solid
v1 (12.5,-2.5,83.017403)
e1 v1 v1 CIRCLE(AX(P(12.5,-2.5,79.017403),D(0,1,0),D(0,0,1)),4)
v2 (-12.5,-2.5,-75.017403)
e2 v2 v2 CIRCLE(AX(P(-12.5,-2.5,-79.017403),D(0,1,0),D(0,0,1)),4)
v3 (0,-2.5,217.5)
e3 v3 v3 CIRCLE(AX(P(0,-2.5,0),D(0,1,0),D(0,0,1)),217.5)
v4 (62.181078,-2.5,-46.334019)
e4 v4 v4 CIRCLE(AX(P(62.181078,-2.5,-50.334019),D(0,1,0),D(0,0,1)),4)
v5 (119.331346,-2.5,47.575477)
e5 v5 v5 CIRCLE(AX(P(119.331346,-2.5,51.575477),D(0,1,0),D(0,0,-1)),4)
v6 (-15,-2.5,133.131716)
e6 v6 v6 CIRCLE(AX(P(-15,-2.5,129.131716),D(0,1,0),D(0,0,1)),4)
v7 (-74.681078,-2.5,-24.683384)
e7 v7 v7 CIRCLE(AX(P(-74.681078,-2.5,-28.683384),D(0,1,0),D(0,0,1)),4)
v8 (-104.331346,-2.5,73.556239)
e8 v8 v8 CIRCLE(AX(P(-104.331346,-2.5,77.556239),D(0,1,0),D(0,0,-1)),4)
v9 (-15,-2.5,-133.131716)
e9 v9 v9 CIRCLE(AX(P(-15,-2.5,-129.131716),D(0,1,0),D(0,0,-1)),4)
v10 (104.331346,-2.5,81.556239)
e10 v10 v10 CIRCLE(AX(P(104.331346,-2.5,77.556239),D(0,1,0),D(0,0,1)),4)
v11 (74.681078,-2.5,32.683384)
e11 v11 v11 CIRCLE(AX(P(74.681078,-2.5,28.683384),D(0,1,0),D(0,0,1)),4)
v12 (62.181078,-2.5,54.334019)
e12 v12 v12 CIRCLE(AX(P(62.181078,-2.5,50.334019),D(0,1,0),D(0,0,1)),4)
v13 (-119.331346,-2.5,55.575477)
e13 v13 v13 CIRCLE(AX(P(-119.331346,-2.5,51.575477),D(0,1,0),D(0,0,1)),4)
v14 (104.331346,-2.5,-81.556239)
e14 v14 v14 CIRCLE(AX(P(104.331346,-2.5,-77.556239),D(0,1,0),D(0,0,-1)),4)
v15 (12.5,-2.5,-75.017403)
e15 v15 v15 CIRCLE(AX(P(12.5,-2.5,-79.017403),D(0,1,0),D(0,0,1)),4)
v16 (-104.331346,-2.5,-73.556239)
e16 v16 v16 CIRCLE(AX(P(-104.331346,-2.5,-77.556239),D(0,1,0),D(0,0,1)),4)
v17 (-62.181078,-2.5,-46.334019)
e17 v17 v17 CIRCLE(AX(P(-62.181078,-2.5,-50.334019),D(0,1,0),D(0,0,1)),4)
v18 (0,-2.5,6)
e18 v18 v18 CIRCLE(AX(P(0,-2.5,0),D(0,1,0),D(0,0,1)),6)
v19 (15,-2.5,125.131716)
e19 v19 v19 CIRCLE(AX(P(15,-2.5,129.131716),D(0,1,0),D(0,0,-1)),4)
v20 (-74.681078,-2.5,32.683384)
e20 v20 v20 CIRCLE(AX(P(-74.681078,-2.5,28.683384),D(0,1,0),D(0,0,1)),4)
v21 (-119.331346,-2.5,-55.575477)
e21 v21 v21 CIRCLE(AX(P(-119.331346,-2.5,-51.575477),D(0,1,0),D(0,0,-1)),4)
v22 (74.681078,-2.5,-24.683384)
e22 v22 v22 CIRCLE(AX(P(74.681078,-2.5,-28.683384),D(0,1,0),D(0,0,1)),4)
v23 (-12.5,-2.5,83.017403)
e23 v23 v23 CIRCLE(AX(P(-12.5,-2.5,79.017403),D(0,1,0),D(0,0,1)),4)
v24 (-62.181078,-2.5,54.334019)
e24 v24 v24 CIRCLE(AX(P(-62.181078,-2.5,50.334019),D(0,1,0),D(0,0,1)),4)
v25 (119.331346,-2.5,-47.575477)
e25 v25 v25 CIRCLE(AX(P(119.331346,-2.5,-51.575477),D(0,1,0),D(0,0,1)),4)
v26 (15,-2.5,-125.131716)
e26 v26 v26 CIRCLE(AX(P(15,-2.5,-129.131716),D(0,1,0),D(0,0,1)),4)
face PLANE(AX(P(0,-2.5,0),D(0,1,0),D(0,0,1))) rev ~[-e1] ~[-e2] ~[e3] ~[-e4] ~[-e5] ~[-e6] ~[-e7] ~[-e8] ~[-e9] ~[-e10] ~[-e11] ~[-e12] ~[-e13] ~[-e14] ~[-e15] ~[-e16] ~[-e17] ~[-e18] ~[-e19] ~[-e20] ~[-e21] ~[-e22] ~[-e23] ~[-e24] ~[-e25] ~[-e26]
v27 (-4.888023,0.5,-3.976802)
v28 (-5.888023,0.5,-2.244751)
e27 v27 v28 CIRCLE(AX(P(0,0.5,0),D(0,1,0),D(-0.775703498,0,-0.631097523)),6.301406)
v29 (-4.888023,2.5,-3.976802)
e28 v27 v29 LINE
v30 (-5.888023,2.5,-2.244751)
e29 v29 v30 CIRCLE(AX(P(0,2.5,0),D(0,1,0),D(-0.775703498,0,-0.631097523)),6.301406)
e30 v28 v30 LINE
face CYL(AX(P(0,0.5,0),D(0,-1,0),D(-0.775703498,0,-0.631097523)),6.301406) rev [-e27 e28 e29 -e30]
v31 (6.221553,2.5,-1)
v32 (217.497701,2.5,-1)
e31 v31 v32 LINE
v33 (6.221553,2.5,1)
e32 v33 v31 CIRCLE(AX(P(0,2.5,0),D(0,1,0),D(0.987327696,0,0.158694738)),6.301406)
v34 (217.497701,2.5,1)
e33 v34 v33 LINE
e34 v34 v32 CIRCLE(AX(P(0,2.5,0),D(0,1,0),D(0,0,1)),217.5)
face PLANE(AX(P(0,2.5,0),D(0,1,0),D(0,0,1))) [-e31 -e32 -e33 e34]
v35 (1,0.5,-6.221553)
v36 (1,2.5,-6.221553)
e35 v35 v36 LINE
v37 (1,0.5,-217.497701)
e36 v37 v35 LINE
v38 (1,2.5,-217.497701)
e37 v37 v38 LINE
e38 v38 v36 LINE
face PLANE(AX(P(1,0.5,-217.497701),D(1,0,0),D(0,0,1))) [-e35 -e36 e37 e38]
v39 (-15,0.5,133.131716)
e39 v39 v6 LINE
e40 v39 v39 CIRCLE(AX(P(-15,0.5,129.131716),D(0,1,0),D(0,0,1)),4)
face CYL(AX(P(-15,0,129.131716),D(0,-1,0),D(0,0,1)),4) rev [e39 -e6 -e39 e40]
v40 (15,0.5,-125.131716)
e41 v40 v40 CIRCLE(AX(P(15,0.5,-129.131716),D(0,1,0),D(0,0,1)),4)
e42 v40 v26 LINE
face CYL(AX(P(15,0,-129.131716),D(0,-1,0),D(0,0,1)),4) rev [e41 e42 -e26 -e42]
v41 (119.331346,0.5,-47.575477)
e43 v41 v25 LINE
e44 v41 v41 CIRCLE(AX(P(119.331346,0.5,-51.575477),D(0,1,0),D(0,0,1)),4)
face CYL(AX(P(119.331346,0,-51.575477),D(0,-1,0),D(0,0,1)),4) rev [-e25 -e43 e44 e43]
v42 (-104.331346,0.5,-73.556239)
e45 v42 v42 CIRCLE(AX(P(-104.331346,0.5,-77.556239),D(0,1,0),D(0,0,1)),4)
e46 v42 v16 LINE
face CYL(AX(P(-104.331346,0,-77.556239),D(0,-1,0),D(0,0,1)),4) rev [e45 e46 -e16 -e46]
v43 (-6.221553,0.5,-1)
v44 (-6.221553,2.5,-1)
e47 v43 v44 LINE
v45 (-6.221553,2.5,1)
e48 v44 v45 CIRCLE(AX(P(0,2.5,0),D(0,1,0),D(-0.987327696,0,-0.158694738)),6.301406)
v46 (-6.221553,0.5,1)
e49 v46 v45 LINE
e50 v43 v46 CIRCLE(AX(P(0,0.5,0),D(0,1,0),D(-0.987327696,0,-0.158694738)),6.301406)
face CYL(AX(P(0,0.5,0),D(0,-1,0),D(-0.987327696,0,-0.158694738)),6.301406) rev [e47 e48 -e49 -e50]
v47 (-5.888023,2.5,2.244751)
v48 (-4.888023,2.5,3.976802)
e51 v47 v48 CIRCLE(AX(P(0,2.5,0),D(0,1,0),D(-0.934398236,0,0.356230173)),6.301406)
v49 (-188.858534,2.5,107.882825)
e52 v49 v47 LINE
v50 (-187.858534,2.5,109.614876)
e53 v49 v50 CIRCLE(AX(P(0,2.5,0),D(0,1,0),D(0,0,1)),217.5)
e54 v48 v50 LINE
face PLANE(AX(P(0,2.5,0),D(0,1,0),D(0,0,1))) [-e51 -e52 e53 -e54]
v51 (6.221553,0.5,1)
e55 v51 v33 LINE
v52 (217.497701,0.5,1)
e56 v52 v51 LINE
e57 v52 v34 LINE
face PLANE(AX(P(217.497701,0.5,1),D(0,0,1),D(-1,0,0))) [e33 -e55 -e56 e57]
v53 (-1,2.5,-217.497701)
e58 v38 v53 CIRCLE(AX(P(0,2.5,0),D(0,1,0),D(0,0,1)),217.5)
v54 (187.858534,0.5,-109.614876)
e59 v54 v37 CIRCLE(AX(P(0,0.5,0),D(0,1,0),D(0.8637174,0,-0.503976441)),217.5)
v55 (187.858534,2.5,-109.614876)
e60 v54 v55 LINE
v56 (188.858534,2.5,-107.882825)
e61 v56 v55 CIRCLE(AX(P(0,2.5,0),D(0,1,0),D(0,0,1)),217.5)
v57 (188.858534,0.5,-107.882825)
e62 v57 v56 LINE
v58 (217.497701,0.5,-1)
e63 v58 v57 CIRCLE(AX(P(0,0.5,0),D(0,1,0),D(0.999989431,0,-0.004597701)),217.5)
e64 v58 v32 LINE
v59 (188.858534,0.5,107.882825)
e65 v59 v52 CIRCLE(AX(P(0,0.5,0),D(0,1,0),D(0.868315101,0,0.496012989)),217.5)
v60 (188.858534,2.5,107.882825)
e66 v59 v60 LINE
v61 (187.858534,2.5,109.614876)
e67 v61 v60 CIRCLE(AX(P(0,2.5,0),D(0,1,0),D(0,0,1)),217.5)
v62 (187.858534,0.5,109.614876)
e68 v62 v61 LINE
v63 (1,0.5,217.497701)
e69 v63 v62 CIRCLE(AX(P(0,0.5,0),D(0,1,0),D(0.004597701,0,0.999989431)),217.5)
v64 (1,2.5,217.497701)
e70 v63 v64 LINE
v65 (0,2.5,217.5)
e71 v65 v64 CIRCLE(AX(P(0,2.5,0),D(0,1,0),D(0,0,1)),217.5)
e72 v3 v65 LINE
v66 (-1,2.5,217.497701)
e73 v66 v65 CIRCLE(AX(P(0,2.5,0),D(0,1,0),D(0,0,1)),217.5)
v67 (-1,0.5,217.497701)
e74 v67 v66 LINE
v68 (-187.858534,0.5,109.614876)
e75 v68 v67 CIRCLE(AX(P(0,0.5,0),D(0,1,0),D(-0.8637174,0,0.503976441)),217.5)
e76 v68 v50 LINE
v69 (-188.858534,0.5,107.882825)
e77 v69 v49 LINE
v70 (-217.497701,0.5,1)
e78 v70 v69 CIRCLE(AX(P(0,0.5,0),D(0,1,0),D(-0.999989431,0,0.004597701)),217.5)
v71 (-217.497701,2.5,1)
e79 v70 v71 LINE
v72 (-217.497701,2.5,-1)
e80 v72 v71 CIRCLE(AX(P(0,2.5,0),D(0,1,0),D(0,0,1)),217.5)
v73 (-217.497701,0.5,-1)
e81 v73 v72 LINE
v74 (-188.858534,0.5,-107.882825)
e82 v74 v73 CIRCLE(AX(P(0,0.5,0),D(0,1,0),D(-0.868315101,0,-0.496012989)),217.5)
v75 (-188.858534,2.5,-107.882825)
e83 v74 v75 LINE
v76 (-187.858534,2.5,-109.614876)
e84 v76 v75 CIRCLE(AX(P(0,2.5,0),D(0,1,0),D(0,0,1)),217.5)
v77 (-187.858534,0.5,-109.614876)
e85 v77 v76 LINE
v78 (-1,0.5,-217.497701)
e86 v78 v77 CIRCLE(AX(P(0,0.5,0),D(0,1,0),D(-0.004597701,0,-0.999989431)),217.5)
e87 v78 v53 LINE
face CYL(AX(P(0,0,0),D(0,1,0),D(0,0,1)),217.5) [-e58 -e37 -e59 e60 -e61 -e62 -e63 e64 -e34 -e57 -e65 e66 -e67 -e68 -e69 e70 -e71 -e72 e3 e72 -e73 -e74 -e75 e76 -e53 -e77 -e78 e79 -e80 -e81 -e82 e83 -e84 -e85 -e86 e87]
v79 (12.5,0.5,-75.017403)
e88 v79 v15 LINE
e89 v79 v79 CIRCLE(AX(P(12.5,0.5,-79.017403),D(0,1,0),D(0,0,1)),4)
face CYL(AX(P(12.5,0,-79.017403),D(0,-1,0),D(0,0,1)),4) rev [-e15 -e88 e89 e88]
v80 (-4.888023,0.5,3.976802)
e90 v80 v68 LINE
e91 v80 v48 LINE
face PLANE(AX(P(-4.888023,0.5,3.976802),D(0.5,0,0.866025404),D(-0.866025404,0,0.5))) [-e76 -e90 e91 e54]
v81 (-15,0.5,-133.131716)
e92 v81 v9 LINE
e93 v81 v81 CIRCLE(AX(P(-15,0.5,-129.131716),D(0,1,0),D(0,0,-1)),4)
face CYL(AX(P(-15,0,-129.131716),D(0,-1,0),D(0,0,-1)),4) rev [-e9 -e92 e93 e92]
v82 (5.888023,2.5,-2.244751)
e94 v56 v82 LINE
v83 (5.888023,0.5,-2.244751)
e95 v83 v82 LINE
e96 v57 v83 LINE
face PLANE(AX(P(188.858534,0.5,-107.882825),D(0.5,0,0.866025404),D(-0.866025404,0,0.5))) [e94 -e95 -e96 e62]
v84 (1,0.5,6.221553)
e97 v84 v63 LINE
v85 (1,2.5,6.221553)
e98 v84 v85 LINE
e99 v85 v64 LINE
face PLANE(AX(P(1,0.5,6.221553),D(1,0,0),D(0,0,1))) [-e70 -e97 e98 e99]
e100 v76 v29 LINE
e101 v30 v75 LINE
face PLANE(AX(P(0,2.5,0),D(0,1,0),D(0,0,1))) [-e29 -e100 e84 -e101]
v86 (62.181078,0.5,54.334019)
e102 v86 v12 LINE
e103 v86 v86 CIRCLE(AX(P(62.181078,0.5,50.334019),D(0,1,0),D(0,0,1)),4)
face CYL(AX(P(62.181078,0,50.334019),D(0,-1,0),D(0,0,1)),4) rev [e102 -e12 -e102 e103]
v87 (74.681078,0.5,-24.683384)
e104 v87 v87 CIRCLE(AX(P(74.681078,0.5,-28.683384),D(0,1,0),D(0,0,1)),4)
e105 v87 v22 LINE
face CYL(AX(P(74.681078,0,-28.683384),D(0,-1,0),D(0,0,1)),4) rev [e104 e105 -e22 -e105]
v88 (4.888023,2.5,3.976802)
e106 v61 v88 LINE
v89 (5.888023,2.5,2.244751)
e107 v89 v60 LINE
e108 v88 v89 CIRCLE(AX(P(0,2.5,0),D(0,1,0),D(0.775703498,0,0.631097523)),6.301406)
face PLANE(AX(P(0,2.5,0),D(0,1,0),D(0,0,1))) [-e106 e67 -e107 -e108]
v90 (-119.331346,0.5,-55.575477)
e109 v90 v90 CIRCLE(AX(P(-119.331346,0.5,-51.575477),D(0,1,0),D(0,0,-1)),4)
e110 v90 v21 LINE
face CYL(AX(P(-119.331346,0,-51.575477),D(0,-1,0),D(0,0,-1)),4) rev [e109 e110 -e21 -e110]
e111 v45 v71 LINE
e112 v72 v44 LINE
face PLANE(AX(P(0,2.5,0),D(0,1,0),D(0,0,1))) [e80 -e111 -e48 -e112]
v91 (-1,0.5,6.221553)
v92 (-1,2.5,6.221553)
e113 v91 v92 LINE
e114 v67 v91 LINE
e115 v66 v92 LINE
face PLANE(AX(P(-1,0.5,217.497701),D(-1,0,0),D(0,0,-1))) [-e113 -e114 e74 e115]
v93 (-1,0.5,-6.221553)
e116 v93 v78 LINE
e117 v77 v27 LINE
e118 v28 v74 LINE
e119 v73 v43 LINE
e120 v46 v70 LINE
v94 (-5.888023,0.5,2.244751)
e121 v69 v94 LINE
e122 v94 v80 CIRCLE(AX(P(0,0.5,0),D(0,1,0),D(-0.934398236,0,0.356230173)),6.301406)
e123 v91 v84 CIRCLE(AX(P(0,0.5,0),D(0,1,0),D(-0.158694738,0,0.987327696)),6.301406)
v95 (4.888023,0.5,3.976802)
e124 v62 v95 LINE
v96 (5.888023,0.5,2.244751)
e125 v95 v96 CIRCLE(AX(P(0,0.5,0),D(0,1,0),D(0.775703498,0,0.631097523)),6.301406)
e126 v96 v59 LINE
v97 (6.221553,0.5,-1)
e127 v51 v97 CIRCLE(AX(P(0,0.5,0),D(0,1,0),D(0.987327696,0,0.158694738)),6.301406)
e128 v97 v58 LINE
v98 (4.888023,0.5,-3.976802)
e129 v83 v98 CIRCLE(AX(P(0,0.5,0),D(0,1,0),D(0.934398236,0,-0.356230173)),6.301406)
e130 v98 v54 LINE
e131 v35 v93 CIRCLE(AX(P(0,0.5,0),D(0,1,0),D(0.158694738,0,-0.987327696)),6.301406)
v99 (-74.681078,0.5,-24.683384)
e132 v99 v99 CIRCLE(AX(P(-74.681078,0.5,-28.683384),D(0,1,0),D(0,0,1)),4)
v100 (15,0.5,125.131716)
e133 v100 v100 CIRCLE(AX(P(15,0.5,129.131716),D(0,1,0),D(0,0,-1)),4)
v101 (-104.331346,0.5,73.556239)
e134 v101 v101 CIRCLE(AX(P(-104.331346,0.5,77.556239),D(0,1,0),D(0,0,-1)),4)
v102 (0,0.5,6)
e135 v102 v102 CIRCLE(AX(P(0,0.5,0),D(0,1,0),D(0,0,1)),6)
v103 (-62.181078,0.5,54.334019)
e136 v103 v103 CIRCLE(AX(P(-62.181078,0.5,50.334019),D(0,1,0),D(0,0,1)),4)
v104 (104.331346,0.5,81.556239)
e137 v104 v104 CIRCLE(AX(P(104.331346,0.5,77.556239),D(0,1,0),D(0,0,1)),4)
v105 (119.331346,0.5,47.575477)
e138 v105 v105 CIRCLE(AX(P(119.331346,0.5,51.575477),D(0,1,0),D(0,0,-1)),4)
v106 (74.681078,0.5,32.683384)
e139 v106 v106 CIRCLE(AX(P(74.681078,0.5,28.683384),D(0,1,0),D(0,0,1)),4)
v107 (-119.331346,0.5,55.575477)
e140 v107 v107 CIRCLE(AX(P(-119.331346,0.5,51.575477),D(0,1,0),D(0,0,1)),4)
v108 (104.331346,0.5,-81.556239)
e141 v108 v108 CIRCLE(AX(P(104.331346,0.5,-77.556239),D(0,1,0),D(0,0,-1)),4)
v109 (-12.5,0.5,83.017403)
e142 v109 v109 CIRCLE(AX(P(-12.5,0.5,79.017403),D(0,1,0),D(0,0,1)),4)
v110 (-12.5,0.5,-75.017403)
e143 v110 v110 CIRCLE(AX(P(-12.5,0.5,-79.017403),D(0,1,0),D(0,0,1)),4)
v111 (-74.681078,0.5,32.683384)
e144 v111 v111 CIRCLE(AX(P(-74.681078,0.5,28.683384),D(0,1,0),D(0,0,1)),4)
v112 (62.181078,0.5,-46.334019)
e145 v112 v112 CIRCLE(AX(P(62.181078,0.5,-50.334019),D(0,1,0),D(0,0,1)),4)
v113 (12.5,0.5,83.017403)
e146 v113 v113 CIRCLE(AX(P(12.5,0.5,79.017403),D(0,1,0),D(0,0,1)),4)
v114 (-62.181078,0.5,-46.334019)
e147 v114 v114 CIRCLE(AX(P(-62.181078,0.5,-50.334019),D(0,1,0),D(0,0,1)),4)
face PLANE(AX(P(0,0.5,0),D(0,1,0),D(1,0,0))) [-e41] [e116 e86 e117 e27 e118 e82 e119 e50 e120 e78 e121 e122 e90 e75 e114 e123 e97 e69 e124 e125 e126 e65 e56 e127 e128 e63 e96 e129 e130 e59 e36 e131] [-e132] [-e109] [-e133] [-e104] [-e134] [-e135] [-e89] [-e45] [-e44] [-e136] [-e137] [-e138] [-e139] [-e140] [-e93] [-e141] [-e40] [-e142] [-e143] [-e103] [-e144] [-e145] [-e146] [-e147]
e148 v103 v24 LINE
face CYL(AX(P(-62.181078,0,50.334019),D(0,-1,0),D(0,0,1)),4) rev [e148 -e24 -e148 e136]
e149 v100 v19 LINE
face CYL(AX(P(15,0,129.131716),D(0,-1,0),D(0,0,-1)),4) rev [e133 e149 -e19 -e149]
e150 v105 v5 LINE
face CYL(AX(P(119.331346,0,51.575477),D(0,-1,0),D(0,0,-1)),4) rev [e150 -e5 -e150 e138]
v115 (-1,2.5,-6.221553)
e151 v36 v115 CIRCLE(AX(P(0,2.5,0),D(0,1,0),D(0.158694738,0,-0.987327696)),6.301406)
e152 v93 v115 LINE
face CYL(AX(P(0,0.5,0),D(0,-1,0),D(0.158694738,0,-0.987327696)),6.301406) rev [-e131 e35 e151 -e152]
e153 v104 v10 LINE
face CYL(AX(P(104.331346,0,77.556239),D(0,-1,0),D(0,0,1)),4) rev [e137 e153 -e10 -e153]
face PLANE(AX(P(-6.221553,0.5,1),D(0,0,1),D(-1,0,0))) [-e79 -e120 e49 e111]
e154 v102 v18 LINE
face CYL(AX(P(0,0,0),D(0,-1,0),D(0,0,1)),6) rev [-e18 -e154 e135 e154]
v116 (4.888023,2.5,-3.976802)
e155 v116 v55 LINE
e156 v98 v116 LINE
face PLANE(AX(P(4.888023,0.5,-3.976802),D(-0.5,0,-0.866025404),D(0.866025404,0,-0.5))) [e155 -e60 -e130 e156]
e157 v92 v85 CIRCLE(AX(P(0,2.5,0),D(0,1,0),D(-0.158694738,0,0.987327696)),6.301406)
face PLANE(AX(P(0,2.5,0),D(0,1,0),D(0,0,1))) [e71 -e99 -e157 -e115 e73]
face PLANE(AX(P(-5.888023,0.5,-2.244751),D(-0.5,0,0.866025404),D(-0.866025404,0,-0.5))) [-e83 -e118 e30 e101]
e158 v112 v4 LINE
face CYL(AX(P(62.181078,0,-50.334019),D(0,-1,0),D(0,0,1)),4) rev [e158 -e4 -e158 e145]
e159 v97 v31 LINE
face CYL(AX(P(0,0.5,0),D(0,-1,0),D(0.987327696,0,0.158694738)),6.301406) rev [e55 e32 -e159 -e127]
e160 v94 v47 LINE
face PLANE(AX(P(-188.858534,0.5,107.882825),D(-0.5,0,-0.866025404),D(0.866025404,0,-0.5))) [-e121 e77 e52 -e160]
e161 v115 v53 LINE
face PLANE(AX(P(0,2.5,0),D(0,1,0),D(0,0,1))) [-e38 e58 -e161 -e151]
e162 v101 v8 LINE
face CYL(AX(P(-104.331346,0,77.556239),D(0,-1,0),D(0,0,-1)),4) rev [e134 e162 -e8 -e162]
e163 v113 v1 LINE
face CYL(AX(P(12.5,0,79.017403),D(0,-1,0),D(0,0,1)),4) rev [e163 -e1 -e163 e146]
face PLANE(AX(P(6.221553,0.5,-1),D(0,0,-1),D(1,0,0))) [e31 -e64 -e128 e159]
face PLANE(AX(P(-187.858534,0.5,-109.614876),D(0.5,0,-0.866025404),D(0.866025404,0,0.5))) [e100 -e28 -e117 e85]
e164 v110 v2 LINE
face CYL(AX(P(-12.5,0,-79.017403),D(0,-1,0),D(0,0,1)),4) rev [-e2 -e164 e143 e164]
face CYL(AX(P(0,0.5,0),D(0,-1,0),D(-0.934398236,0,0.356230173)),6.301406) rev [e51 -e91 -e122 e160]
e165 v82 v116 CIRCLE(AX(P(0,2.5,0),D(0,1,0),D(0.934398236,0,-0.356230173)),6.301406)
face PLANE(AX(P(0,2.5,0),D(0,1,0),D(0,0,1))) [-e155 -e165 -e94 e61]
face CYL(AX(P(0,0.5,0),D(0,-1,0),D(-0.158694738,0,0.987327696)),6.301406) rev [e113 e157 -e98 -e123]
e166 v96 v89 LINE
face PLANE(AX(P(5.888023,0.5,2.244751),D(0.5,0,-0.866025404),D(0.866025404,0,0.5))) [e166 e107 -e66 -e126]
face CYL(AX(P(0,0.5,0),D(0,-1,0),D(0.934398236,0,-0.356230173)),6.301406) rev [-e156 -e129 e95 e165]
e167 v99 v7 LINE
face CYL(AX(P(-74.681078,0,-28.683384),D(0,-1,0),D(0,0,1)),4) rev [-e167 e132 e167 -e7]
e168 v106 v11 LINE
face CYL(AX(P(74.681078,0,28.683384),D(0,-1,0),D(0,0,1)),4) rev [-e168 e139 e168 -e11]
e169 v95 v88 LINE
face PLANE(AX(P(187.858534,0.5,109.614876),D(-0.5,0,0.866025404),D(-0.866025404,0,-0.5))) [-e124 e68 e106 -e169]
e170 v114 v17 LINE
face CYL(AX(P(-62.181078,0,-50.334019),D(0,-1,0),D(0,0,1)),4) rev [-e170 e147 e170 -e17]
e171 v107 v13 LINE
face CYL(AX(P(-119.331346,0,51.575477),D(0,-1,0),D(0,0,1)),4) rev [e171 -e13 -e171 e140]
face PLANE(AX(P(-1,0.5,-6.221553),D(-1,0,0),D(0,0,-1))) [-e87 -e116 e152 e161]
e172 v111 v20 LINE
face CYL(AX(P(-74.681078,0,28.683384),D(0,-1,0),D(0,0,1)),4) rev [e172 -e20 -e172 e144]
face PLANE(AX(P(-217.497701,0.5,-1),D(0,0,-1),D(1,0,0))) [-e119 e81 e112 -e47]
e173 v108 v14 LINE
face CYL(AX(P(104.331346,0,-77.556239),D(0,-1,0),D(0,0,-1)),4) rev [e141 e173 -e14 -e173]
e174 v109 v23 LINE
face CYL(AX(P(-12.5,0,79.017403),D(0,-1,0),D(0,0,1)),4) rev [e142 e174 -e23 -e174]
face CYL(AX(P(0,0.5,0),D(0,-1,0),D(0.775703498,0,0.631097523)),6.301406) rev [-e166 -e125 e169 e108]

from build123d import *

# Parameters (mm, degrees)
SKETCH1_R           = 217.5
SKETCH1_R_2         = 4
SKETCH1_R_3         = 6
BOSS_EXTRUDE1_DEPTH = 2.5
CUT_EXTRUDE1_START  = -2
SKETCH2_R           = 4
SKETCH2_R_2         = 6
CUT_EXTRUDE1_DEPTH  = 2


with BuildPart() as part:
    # Sketch1 → Boss-Extrude1 (new, symmetric)
    with BuildSketch(Plane(origin=(0, 0, 0), x_dir=(1, 0, 0), z_dir=(0, 1, 0))):
        with Locations(Location((0, 0, 0), (0, 0, 270))):
            Circle(SKETCH1_R)
        with Locations(Location((-12.5, 79.017403146, 0), (0, 0, 270))):
            Circle(SKETCH1_R_2, mode=Mode.SUBTRACT)
        with Locations(Location((12.5, 79.017403146, 0), (0, 0, 270))):
            Circle(SKETCH1_R_2, mode=Mode.SUBTRACT)
        with Locations(Location((62.181078466, 50.334019121, 0), (0, 0, 270))):
            Circle(SKETCH1_R_2, mode=Mode.SUBTRACT)
        with Locations(Location((74.681078466, 28.683384026, 0), (0, 0, 270))):
            Circle(SKETCH1_R_2, mode=Mode.SUBTRACT)
        with Locations(Location((74.681078466, -28.683384026, 0), (0, 0, 270))):
            Circle(SKETCH1_R_2, mode=Mode.SUBTRACT)
        with Locations(Location((62.181078466, -50.334019121, 0), (0, 0, 270))):
            Circle(SKETCH1_R_2, mode=Mode.SUBTRACT)
        with Locations(Location((12.5, -79.017403146, 0), (0, 0, 270))):
            Circle(SKETCH1_R_2, mode=Mode.SUBTRACT)
        with Locations(Location((-12.5, -79.017403146, 0), (0, 0, 270))):
            Circle(SKETCH1_R_2, mode=Mode.SUBTRACT)
        with Locations(Location((-62.181078466, -50.334019121, 0), (0, 0, 270))):
            Circle(SKETCH1_R_2, mode=Mode.SUBTRACT)
        with Locations(Location((-74.681078466, -28.683384026, 0), (0, 0, 270))):
            Circle(SKETCH1_R_2, mode=Mode.SUBTRACT)
        with Locations(Location((-74.681078466, 28.683384026, 0), (0, 0, 270))):
            Circle(SKETCH1_R_2, mode=Mode.SUBTRACT)
        with Locations(Location((-62.181078466, 50.334019121, 0), (0, 0, 270))):
            Circle(SKETCH1_R_2, mode=Mode.SUBTRACT)
        with Locations(Location((15, 129.131715701, 0), (0, 0, 270))):
            Circle(SKETCH1_R_2, mode=Mode.SUBTRACT)
        with Locations(Location((-15, 129.131715701, 0), (0, 0, 90))):
            Circle(SKETCH1_R_2, mode=Mode.SUBTRACT)
        with Locations(Location((104.331346232, 77.556238907, 0), (0, 0, 90))):
            Circle(SKETCH1_R_2, mode=Mode.SUBTRACT)
        with Locations(Location((119.331346232, 51.575476794, 0), (0, 0, 270))):
            Circle(SKETCH1_R_2, mode=Mode.SUBTRACT)
        with Locations(Location((119.331346232, -51.575476794, 0), (0, 0, 90))):
            Circle(SKETCH1_R_2, mode=Mode.SUBTRACT)
        with Locations(Location((104.331346232, -77.556238907, 0), (0, 0, 270))):
            Circle(SKETCH1_R_2, mode=Mode.SUBTRACT)
        with Locations(Location((15, -129.131715701, 0), (0, 0, 90))):
            Circle(SKETCH1_R_2, mode=Mode.SUBTRACT)
        with Locations(Location((-15, -129.131715701, 0), (0, 0, 270))):
            Circle(SKETCH1_R_2, mode=Mode.SUBTRACT)
        with Locations(Location((-104.331346232, -77.556238907, 0), (0, 0, 90))):
            Circle(SKETCH1_R_2, mode=Mode.SUBTRACT)
        with Locations(Location((-119.331346232, -51.575476794, 0), (0, 0, 270))):
            Circle(SKETCH1_R_2, mode=Mode.SUBTRACT)
        with Locations(Location((-119.331346232, 51.575476794, 0), (0, 0, 90))):
            Circle(SKETCH1_R_2, mode=Mode.SUBTRACT)
        with Locations(Location((-104.331346232, 77.556238907, 0), (0, 0, 270))):
            Circle(SKETCH1_R_2, mode=Mode.SUBTRACT)
        with Locations(Location((0, 0, 0), (0, 0, 270))):
            Circle(SKETCH1_R_3, mode=Mode.SUBTRACT)
    extrude(amount=BOSS_EXTRUDE1_DEPTH, both=True)

    # Sketch2 → Cut-Extrude1 (cut)
    with BuildSketch(Plane(origin=(0, 2.5, 0), x_dir=(1, 0, 0), z_dir=(0, 1, 0)).offset(CUT_EXTRUDE1_START)):
        with BuildLine():
            ThreePointArc((-217.497701137, -1), (-210.088867218, -56.29314231), (-188.85853445, -107.882825165))
            Line((-188.85853445, -107.882825165), (-5.888022785, -2.244751001))
            ThreePointArc((-5.888022785, -2.244751001), (-5.457177799, -3.150703071), (-4.888022785, -3.976801809))
            Line((-4.888022785, -3.976801809), (-187.85853445, -109.614875972))
            ThreePointArc((-187.85853445, -109.614875972), (-108.75, -188.360525323), (-1, -217.497701137))
            Line((-1, -217.497701137), (-1, -6.22155281))
            ThreePointArc((-1, -6.22155281), (0, -6.301406142), (1, -6.22155281))
            Line((1, -6.22155281), (1, -217.497701137))
            ThreePointArc((1, -217.497701137), (108.75, -188.360525323), (187.85853445, -109.614875972))
            Line((187.85853445, -109.614875972), (4.888022785, -3.976801809))
            ThreePointArc((4.888022785, -3.976801809), (5.457177799, -3.150703071), (5.888022785, -2.244751001))
            Line((5.888022785, -2.244751001), (188.85853445, -107.882825165))
            ThreePointArc((188.85853445, -107.882825165), (210.088867218, -56.29314231), (217.497701137, -1))
            Line((217.497701137, -1), (6.22155281, -1))
            ThreePointArc((6.22155281, -1), (6.301406142, 0), (6.22155281, 1))
            Line((6.22155281, 1), (217.497701137, 1))
            ThreePointArc((217.497701137, 1), (210.088867218, 56.29314231), (188.85853445, 107.882825165))
            Line((188.85853445, 107.882825165), (5.888022785, 2.244751001))
            ThreePointArc((5.888022785, 2.244751001), (5.457177799, 3.150703071), (4.888022785, 3.976801809))
            Line((4.888022785, 3.976801809), (187.85853445, 109.614875972))
            ThreePointArc((187.85853445, 109.614875972), (108.75, 188.360525323), (1, 217.497701137))
            Line((1, 217.497701137), (1, 6.22155281))
            ThreePointArc((1, 6.22155281), (0, 6.301406142), (-1, 6.22155281))
            Line((-1, 6.22155281), (-1, 217.497701137))
            ThreePointArc((-1, 217.497701137), (-108.75, 188.360525323), (-187.85853445, 109.614875972))
            Line((-187.85853445, 109.614875972), (-4.888022785, 3.976801809))
            ThreePointArc((-4.888022785, 3.976801809), (-5.457177799, 3.150703071), (-5.888022785, 2.244751001))
            Line((-5.888022785, 2.244751001), (-188.85853445, 107.882825165))
            ThreePointArc((-188.85853445, 107.882825165), (-210.088867218, 56.29314231), (-217.497701137, 1))
            Line((-217.497701137, 1), (-6.22155281, 1))
            ThreePointArc((-6.22155281, 1), (-6.301406142, 0), (-6.22155281, -1))
            Line((-6.22155281, -1), (-217.497701137, -1))
        make_face()
        with Locations(Location((-15, -129.131715701, 0), (0, 0, 270))):
            Circle(SKETCH2_R, mode=Mode.SUBTRACT)
        with Locations(Location((-119.331346232, -51.575476794, 0), (0, 0, 270))):
            Circle(SKETCH2_R, mode=Mode.SUBTRACT)
        with Locations(Location((-104.331346232, -77.556238907, 0), (0, 0, 90))):
            Circle(SKETCH2_R, mode=Mode.SUBTRACT)
        with Locations(Location((-12.5, -79.017403146, 0), (0, 0, 270))):
            Circle(SKETCH2_R, mode=Mode.SUBTRACT)
        with Locations(Location((-62.181078466, -50.334019121, 0), (0, 0, 270))):
            Circle(SKETCH2_R, mode=Mode.SUBTRACT)
        with Locations(Location((-74.681078466, -28.683384026, 0), (0, 0, 270))):
            Circle(SKETCH2_R, mode=Mode.SUBTRACT)
        with Locations(Location((15, -129.131715701, 0), (0, 0, 90))):
            Circle(SKETCH2_R, mode=Mode.SUBTRACT)
        with Locations(Location((12.5, -79.017403146, 0), (0, 0, 270))):
            Circle(SKETCH2_R, mode=Mode.SUBTRACT)
        with Locations(Location((104.331346232, -77.556238907, 0), (0, 0, 270))):
            Circle(SKETCH2_R, mode=Mode.SUBTRACT)
        with Locations(Location((62.181078466, -50.334019121, 0), (0, 0, 270))):
            Circle(SKETCH2_R, mode=Mode.SUBTRACT)
        with Locations(Location((74.681078466, -28.683384026, 0), (0, 0, 270))):
            Circle(SKETCH2_R, mode=Mode.SUBTRACT)
        with Locations(Location((119.331346232, -51.575476794, 0), (0, 0, 90))):
            Circle(SKETCH2_R, mode=Mode.SUBTRACT)
        with Locations(Location((-119.331346232, 51.575476794, 0), (0, 0, 90))):
            Circle(SKETCH2_R, mode=Mode.SUBTRACT)
        with Locations(Location((-74.681078466, 28.683384026, 0), (0, 0, 270))):
            Circle(SKETCH2_R, mode=Mode.SUBTRACT)
        with Locations(Location((-62.181078466, 50.334019121, 0), (0, 0, 270))):
            Circle(SKETCH2_R, mode=Mode.SUBTRACT)
        with Locations(Location((-104.331346232, 77.556238907, 0), (0, 0, 270))):
            Circle(SKETCH2_R, mode=Mode.SUBTRACT)
        with Locations(Location((-12.5, 79.017403146, 0), (0, 0, 270))):
            Circle(SKETCH2_R, mode=Mode.SUBTRACT)
        with Locations(Location((-15, 129.131715701, 0), (0, 0, 90))):
            Circle(SKETCH2_R, mode=Mode.SUBTRACT)
        with Locations(Location((0, 0, 0), (0, 0, 270))):
            Circle(SKETCH2_R_2, mode=Mode.SUBTRACT)
        with Locations(Location((74.681078466, 28.683384026, 0), (0, 0, 270))):
            Circle(SKETCH2_R, mode=Mode.SUBTRACT)
        with Locations(Location((62.181078466, 50.334019121, 0), (0, 0, 270))):
            Circle(SKETCH2_R, mode=Mode.SUBTRACT)
        with Locations(Location((12.5, 79.017403146, 0), (0, 0, 270))):
            Circle(SKETCH2_R, mode=Mode.SUBTRACT)
        with Locations(Location((104.331346232, 77.556238907, 0), (0, 0, 90))):
            Circle(SKETCH2_R, mode=Mode.SUBTRACT)
        with Locations(Location((119.331346232, 51.575476794, 0), (0, 0, 270))):
            Circle(SKETCH2_R, mode=Mode.SUBTRACT)
        with Locations(Location((15, 129.131715701, 0), (0, 0, 270))):
            Circle(SKETCH2_R, mode=Mode.SUBTRACT)
    extrude(amount=CUT_EXTRUDE1_DEPTH, mode=Mode.SUBTRACT)


solid = part.part
